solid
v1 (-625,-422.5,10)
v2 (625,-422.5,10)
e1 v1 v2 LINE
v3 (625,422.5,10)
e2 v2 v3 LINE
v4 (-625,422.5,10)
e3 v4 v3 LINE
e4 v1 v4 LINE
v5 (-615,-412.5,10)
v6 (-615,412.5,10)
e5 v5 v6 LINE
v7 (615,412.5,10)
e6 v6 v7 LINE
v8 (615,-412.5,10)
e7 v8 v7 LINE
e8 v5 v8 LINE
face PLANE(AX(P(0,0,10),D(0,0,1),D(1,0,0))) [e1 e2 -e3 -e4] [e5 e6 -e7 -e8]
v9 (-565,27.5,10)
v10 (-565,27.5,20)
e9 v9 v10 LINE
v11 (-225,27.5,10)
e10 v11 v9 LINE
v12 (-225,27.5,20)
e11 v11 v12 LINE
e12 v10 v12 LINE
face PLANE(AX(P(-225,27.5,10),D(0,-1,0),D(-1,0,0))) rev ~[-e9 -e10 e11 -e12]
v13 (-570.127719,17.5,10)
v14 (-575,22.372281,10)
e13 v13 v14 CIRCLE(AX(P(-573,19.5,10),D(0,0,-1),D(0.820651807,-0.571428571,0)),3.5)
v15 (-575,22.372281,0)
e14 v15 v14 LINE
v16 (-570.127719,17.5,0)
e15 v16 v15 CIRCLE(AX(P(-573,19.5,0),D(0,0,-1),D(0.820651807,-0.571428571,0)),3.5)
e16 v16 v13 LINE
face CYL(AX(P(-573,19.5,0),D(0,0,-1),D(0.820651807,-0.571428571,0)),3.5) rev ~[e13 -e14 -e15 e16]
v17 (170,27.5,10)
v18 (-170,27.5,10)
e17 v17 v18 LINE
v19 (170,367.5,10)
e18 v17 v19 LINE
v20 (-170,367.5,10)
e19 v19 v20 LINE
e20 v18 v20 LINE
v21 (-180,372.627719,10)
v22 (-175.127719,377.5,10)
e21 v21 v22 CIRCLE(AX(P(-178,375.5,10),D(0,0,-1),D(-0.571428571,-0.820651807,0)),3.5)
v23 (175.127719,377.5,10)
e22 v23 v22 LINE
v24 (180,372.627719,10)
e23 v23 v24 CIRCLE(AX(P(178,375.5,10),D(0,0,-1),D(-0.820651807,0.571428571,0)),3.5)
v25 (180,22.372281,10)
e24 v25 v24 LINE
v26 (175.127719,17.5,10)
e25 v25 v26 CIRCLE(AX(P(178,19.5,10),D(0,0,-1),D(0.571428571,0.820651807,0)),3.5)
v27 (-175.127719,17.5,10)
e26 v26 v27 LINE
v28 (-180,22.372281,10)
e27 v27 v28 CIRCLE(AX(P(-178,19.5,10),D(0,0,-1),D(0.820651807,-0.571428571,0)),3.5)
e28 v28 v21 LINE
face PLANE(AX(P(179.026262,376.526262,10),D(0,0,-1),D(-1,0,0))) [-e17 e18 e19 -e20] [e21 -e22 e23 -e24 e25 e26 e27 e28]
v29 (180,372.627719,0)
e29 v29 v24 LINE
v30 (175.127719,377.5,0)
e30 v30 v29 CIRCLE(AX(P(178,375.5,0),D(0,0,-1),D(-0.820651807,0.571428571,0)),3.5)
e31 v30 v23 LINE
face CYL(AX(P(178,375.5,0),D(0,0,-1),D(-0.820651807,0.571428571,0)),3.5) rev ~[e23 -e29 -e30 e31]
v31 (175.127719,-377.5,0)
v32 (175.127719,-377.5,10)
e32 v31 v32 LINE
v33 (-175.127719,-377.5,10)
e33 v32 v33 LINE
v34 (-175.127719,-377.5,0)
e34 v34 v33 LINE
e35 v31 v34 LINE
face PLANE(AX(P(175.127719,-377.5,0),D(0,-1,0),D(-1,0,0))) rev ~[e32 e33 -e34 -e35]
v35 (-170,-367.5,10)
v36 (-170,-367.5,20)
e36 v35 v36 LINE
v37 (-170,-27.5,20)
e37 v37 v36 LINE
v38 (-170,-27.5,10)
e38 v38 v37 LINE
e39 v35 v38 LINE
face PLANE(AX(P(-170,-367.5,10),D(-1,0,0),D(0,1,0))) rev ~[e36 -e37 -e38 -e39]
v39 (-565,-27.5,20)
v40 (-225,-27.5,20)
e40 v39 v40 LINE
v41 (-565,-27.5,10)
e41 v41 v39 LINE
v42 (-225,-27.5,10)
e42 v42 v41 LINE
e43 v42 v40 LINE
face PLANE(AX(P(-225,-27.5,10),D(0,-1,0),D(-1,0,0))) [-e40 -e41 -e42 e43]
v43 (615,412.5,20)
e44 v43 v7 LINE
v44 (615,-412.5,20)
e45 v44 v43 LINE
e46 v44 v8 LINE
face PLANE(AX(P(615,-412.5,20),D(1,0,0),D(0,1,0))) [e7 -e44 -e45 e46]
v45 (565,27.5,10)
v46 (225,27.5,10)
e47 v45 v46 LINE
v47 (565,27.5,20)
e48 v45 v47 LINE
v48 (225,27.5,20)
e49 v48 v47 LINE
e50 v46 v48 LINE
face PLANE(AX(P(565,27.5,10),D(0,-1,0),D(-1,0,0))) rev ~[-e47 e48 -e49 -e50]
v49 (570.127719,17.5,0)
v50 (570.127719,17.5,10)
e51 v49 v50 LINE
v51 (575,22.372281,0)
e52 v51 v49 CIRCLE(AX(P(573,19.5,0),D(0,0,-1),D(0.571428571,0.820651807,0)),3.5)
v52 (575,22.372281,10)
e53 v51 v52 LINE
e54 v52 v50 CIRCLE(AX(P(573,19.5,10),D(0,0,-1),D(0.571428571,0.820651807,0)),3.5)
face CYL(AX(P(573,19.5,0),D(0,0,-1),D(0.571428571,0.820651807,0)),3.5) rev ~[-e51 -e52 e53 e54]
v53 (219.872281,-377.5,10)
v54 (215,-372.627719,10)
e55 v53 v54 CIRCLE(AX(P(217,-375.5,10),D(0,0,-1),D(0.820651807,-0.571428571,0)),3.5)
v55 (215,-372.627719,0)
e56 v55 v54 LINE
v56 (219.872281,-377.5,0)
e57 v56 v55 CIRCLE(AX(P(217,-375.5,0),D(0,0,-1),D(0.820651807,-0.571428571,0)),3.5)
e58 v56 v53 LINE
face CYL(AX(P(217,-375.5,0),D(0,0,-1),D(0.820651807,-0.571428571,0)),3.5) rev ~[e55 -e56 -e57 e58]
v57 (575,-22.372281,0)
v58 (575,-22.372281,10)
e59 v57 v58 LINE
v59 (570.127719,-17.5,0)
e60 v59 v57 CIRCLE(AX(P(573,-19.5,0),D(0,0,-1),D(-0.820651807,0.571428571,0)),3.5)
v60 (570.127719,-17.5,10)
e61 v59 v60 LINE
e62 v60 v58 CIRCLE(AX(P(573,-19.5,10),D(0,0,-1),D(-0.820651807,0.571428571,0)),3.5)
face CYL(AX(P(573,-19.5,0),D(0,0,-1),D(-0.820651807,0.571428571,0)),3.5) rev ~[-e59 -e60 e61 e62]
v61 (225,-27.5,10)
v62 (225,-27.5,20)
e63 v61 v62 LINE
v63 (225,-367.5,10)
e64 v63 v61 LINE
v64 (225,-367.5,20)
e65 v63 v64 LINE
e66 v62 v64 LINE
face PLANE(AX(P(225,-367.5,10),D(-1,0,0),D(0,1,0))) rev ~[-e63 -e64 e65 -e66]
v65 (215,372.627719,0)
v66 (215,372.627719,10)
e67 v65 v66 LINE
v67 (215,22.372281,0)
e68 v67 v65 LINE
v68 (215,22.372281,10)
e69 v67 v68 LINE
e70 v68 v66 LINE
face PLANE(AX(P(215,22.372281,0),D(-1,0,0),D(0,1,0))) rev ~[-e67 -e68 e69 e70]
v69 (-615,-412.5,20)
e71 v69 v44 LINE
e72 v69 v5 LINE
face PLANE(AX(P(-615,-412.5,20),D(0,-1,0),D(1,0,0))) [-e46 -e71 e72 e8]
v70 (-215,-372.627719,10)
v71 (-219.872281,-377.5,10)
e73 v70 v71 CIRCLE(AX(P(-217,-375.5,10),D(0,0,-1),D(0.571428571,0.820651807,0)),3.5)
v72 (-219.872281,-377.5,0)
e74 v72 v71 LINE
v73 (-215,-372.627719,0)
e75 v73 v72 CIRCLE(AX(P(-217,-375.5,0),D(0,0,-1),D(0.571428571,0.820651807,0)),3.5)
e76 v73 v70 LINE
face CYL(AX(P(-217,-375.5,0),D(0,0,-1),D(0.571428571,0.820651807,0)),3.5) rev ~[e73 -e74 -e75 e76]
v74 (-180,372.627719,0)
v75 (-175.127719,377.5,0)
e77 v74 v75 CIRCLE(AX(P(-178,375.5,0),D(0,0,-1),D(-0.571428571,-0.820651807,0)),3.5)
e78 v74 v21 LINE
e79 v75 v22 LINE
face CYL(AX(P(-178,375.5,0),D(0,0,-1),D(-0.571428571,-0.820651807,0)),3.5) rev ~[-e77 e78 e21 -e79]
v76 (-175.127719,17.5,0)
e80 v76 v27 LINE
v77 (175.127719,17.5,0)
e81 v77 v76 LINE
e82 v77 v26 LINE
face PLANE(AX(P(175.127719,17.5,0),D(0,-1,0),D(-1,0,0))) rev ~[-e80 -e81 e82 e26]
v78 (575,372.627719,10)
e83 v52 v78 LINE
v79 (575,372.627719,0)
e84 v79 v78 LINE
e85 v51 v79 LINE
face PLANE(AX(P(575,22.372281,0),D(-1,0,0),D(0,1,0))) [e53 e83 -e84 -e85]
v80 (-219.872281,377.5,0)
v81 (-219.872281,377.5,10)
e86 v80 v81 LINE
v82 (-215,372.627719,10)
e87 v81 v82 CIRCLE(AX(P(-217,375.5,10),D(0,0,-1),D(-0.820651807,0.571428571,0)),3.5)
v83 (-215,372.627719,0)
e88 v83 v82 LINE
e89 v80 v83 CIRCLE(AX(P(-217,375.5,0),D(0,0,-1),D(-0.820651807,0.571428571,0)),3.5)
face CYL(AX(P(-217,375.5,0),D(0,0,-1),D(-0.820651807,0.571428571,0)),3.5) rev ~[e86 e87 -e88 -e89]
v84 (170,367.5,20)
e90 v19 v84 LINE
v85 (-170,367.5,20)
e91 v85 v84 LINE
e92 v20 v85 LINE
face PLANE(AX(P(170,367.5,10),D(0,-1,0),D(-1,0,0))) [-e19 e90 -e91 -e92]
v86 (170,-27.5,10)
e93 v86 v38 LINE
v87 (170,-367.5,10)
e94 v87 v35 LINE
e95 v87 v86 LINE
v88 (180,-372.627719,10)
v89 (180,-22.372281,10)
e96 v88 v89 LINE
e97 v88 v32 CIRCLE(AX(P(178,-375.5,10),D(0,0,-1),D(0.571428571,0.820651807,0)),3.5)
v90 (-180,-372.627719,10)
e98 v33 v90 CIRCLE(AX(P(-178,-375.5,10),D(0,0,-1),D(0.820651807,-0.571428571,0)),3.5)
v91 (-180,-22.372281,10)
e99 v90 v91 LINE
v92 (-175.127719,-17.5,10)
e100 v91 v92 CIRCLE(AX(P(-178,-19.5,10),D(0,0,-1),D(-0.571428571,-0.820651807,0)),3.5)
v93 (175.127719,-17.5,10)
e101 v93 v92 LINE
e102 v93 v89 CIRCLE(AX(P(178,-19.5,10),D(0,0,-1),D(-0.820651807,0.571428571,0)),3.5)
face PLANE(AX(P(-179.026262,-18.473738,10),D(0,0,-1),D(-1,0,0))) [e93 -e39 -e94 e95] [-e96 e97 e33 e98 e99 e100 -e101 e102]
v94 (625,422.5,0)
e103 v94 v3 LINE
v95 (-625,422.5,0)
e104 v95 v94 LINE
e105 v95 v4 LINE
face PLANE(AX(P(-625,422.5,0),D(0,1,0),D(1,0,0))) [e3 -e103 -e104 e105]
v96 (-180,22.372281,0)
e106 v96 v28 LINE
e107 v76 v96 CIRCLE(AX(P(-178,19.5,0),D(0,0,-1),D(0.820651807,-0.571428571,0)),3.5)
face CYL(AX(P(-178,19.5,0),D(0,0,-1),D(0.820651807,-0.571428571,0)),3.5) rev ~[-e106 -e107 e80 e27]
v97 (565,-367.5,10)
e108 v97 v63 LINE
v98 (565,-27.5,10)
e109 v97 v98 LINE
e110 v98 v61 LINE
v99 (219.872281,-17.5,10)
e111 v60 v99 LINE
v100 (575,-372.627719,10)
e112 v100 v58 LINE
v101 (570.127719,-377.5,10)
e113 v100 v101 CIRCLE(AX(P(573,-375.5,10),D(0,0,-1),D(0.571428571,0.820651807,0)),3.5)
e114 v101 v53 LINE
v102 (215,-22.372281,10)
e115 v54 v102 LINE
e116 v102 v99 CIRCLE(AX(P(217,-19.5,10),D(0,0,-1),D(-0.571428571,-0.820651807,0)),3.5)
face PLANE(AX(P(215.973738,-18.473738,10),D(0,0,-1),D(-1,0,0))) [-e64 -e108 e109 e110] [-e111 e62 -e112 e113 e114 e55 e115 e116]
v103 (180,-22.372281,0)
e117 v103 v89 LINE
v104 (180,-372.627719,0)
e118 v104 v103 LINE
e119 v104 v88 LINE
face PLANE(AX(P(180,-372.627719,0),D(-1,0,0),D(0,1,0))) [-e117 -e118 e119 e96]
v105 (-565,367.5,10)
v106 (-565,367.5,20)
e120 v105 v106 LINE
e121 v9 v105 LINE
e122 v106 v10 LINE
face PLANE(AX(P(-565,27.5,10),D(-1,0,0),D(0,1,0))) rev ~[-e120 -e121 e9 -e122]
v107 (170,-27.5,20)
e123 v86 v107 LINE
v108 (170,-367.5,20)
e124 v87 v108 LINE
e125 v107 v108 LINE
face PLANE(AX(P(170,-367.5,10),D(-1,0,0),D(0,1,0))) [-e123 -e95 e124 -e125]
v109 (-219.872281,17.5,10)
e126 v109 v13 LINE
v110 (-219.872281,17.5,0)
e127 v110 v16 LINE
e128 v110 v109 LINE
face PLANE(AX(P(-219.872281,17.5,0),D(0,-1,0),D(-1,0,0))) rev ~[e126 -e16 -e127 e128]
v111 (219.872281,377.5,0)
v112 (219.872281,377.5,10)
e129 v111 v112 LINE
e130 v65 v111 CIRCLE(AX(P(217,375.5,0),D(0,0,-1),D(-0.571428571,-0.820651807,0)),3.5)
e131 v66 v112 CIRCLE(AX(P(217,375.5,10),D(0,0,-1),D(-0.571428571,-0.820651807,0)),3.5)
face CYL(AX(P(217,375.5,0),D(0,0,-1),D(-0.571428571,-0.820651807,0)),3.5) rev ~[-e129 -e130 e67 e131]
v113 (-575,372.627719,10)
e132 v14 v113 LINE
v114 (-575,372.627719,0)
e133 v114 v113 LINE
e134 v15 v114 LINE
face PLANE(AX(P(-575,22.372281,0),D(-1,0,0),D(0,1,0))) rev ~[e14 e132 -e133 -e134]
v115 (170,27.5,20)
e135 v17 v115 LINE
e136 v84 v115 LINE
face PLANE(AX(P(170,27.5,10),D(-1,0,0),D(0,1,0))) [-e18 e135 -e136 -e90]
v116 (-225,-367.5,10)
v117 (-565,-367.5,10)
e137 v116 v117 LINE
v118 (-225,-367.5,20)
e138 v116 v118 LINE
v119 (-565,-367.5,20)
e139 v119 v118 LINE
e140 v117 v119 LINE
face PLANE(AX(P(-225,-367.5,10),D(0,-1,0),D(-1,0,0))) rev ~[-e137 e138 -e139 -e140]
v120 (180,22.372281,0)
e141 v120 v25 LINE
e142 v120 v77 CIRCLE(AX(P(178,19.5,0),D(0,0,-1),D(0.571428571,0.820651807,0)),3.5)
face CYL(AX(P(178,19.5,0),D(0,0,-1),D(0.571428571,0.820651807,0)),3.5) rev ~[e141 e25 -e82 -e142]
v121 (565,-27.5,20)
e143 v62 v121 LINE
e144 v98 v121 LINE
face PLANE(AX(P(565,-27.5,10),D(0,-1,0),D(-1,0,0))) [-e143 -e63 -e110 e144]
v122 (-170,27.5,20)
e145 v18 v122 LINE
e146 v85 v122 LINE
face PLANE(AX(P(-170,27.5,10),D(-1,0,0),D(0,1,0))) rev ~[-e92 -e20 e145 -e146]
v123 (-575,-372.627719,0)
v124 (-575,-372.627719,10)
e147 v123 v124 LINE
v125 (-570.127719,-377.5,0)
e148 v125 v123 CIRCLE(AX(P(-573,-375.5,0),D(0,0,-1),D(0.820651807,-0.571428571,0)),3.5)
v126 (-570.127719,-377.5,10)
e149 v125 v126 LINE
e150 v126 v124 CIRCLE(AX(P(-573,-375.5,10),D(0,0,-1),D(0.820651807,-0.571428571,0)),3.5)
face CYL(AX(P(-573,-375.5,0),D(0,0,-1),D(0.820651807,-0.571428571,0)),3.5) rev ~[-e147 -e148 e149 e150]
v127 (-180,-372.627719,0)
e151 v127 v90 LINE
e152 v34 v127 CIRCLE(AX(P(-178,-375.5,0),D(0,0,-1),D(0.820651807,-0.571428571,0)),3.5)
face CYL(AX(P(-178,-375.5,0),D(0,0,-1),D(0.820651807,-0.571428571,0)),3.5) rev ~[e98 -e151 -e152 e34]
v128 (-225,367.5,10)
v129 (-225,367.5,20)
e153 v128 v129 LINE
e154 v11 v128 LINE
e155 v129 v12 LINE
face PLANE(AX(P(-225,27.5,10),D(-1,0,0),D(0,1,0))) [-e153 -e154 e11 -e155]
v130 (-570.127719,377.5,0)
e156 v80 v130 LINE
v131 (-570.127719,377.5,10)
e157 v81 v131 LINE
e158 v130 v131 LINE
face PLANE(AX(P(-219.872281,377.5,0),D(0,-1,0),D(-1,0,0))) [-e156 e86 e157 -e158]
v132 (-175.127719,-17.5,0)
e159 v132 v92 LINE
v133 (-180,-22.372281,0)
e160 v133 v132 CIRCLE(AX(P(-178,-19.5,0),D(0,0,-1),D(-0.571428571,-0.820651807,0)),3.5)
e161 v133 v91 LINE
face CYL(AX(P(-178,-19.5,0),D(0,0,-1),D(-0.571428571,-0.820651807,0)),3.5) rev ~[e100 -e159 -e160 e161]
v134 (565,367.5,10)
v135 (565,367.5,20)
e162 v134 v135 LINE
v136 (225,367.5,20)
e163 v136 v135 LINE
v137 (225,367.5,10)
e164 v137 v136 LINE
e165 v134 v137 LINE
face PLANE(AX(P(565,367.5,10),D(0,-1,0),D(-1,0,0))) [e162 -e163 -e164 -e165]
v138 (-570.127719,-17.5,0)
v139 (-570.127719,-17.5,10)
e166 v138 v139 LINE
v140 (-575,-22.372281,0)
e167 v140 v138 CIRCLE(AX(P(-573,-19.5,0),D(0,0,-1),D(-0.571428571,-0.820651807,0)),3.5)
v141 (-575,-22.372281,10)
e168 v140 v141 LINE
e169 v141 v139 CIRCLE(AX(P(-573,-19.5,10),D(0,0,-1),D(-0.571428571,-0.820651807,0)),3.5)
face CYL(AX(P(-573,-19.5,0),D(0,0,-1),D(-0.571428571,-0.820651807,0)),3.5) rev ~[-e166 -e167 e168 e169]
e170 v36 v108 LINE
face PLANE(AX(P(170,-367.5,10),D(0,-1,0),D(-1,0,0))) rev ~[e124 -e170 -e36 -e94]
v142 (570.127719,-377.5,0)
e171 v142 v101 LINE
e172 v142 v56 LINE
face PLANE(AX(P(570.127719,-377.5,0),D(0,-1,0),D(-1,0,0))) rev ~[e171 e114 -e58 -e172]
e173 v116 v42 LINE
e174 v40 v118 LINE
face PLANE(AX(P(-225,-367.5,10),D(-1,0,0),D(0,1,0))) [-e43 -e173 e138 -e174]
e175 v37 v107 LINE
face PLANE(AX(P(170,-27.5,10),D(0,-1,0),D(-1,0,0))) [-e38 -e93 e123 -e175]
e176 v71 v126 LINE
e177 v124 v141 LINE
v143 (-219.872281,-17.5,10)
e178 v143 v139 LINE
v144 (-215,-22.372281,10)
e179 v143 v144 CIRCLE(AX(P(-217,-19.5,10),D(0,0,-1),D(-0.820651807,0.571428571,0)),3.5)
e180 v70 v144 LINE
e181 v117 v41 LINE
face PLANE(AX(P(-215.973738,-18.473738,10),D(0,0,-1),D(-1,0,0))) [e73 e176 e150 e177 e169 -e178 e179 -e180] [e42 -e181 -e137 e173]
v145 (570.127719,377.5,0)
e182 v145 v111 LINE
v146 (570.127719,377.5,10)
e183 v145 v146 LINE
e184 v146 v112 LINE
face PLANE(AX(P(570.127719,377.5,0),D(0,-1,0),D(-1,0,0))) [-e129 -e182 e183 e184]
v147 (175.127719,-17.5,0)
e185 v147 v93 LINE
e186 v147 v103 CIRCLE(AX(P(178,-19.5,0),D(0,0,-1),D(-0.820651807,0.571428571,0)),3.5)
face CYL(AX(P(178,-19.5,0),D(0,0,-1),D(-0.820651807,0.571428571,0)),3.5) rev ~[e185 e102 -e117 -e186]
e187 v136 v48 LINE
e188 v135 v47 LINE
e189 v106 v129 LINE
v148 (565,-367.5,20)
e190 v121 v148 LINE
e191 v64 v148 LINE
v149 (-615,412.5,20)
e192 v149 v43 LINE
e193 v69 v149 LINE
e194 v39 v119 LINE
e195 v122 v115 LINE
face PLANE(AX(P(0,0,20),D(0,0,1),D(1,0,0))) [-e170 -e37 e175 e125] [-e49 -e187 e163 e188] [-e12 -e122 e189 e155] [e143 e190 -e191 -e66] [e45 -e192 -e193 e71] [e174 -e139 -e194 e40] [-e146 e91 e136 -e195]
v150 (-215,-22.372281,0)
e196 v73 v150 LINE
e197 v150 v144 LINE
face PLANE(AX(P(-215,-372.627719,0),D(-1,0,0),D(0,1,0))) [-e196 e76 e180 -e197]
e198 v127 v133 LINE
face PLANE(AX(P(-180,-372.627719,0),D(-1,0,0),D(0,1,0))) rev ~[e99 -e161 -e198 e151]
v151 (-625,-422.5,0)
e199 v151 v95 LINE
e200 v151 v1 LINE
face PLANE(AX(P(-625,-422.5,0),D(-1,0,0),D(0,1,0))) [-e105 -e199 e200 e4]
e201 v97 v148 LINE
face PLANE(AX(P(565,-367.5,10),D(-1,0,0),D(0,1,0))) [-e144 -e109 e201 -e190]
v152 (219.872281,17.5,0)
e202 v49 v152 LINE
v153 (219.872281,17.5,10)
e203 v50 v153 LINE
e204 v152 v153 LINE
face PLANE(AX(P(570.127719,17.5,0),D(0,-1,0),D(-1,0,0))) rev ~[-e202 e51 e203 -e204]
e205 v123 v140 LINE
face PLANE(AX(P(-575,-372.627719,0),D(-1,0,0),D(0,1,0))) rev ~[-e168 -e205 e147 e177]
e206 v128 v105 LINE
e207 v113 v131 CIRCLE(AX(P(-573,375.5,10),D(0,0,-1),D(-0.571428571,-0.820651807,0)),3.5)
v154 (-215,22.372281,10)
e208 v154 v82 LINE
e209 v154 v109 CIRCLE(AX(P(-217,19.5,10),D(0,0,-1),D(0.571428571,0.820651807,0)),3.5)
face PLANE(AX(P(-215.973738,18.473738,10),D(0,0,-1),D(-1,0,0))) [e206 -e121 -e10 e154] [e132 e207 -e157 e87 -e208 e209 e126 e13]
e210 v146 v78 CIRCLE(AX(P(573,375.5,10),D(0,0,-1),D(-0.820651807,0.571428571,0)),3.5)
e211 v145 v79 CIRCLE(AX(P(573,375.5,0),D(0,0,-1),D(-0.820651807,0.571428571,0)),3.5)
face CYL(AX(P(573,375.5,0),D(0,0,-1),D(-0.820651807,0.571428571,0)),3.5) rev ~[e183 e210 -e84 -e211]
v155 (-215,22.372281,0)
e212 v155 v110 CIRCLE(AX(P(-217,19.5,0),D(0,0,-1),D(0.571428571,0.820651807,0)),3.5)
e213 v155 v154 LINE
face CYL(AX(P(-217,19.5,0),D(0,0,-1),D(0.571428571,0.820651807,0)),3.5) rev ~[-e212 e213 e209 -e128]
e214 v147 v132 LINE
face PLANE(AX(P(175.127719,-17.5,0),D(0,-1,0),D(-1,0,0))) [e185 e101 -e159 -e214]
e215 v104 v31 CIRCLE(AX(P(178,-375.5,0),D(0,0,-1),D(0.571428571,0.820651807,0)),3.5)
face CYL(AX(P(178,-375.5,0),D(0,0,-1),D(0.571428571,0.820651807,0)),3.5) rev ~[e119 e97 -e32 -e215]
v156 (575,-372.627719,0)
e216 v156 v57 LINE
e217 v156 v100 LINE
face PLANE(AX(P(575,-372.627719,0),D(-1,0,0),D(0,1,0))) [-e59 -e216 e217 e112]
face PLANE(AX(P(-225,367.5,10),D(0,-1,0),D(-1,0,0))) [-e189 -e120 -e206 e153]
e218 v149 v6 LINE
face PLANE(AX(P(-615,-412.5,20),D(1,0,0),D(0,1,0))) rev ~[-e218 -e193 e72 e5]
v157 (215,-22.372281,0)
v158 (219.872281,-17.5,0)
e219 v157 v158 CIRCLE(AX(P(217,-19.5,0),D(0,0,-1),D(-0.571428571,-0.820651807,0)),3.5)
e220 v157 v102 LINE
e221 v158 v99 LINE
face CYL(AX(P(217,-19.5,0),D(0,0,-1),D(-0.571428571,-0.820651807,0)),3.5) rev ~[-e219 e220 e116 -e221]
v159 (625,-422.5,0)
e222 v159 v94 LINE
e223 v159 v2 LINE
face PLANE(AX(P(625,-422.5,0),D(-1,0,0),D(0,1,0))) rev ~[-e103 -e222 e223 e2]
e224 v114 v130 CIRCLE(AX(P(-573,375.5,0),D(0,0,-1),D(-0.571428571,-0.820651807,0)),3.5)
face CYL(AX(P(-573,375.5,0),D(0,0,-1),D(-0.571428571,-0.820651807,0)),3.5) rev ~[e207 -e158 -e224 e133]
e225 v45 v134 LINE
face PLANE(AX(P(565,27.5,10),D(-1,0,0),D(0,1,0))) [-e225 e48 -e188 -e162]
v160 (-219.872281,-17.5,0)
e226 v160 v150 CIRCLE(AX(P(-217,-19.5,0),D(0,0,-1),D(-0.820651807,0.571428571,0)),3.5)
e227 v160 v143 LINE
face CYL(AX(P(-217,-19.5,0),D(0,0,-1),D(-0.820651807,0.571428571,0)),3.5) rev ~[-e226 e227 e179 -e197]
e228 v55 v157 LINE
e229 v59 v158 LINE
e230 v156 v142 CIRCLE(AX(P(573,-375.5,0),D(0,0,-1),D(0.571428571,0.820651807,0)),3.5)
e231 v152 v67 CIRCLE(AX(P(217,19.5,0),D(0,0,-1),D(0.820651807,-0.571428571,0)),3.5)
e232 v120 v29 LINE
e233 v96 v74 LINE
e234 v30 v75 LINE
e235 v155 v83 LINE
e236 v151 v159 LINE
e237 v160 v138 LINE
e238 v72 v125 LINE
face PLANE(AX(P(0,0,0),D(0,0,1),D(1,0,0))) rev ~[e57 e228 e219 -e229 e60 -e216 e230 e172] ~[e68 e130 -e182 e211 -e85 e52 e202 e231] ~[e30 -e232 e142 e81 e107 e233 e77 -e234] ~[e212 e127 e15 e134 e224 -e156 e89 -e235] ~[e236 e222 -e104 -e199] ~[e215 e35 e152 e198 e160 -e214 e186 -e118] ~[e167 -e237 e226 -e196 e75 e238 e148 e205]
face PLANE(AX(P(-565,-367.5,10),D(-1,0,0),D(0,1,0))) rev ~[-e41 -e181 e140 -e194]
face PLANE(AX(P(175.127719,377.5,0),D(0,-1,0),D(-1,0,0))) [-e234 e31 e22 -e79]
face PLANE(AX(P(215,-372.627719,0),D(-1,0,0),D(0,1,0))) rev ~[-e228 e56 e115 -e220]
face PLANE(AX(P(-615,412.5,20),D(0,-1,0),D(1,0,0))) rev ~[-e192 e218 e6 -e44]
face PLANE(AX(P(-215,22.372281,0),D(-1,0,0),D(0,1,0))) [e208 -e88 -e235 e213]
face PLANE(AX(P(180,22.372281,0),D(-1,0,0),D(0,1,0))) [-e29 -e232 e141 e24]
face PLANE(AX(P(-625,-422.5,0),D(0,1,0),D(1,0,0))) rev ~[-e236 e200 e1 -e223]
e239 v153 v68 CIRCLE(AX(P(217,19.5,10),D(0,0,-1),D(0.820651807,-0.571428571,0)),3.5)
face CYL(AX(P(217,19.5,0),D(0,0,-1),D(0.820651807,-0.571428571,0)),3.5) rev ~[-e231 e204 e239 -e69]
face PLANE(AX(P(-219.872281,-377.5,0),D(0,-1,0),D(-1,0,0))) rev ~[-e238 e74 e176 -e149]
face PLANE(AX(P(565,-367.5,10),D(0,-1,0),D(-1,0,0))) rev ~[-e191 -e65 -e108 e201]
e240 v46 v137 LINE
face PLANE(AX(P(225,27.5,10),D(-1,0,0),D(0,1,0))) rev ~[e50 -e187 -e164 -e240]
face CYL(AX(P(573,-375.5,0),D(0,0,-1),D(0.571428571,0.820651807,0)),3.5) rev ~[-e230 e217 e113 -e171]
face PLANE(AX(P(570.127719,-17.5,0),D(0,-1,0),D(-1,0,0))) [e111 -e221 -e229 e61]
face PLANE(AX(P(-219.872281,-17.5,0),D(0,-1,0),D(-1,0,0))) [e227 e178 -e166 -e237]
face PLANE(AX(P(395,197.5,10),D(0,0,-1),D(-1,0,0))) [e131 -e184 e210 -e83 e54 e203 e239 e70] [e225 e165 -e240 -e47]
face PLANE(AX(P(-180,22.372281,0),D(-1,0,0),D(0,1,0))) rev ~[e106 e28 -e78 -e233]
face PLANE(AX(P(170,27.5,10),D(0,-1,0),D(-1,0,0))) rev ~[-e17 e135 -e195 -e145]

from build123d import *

# Parameters (mm, degrees)
SKETCH1_W           = 1250
SKETCH1_H           = 845
BOSS_EXTRUDE1_DEPTH = 20
SKETCH2_W           = 360
SKETCH2_H           = 360
CUT_EXTRUDE1_DEPTH  = 10
SKETCH3_W           = 340
SKETCH3_H           = 340
CUT_EXTRUDE2_DEPTH  = 11
SKETCH4_W           = 1250
SKETCH4_H           = 845
SKETCH4_W_2         = 1230
SKETCH4_H_2         = 825
CUT_EXTRUDE3_DEPTH  = 10


with BuildPart() as part:
    # Sketch1 → Boss-Extrude1 (new body)
    with BuildSketch(Plane.XY):
        Rectangle(SKETCH1_W, SKETCH1_H)
    extrude(amount=BOSS_EXTRUDE1_DEPTH)

    # Sketch2 → Cut-Extrude1 (cut)
    with BuildSketch(Plane(origin=(0, 0, 0), x_dir=(-1, 0, 0), z_dir=(0, 0, -1))):
        with Locations((-395, 197.5)):
            Rectangle(SKETCH2_W, SKETCH2_H)
        with BuildLine():
            Line((-575, 372.627718677), (-575, 377.5))
            Line((-575, 377.5), (-570.127718677, 377.5))
            ThreePointArc((-570.127718677, 377.5), (-575.474873734, 377.974873734), (-575, 372.627718677))
        make_face()
        with BuildLine():
            ThreePointArc((-215, 372.627718677), (-214.525126266, 377.974873734), (-219.872281323, 377.5))
            Line((-219.872281323, 377.5), (-215, 377.5))
            Line((-215, 377.5), (-215, 372.627718677))
        make_face()
        with BuildLine():
            Line((-180, 372.627718677), (-180, 377.5))
            Line((-180, 377.5), (-175.127718677, 377.5))
            ThreePointArc((-175.127718677, 377.5), (-180.474873734, 377.974873734), (-180, 372.627718677))
        make_face()
        with BuildLine():
            Line((-575, 17.5), (-575, 22.372281323))
            ThreePointArc((-575, 22.372281323), (-575.474873734, 17.025126266), (-570.127718677, 17.5))
            Line((-570.127718677, 17.5), (-575, 17.5))
        make_face()
        with BuildLine():
            ThreePointArc((-219.872281323, 17.5), (-214.525126266, 17.025126266), (-215, 22.372281323))
            Line((-215, 22.372281323), (-215, 17.5))
            Line((-215, 17.5), (-219.872281323, 17.5))
        make_face()
        with BuildLine():
            Line((-180, 17.5), (-180, 22.372281323))
            ThreePointArc((-180, 22.372281323), (-180.474873734, 17.025126266), (-175.127718677, 17.5))
            Line((-175.127718677, 17.5), (-180, 17.5))
        make_face()
        with Locations((0, 197.5)):
            Rectangle(SKETCH2_W, SKETCH2_H)
        with BuildLine():
            Line((180, 17.5), (175.127718677, 17.5))
            ThreePointArc((175.127718677, 17.5), (180.474873734, 17.025126266), (180, 22.372281323))
            Line((180, 22.372281323), (180, 17.5))
        make_face()
        with BuildLine():
            Line((175.127718677, -17.5), (180, -17.5))
            Line((180, -17.5), (180, -22.372281323))
            ThreePointArc((180, -22.372281323), (180.474873734, -17.025126266), (175.127718677, -17.5))
        make_face()
        with BuildLine():
            Line((215, -17.5), (219.872281323, -17.5))
            ThreePointArc((219.872281323, -17.5), (214.525126266, -17.025126266), (215, -22.372281323))
            Line((215, -22.372281323), (215, -17.5))
        make_face()
        with BuildLine():
            Line((215, 17.5), (215, 22.372281323))
            ThreePointArc((215, 22.372281323), (214.525126266, 17.025126266), (219.872281323, 17.5))
            Line((219.872281323, 17.5), (215, 17.5))
        make_face()
        with Locations((395, 197.5)):
            Rectangle(SKETCH2_W, SKETCH2_H)
        with BuildLine():
            ThreePointArc((180, 372.627718677), (180.474873734, 377.974873734), (175.127718677, 377.5))
            Line((175.127718677, 377.5), (180, 377.5))
            Line((180, 377.5), (180, 372.627718677))
        make_face()
        with BuildLine():
            Line((215, 372.627718677), (215, 377.5))
            Line((215, 377.5), (219.872281323, 377.5))
            ThreePointArc((219.872281323, 377.5), (214.525126266, 377.974873734), (215, 372.627718677))
        make_face()
        with BuildLine():
            ThreePointArc((575, 372.627718677), (575.474873734, 377.974873734), (570.127718677, 377.5))
            Line((570.127718677, 377.5), (575, 377.5))
            Line((575, 377.5), (575, 372.627718677))
        make_face()
        with BuildLine():
            Line((575, 17.5), (570.127718677, 17.5))
            ThreePointArc((570.127718677, 17.5), (575.474873734, 17.025126266), (575, 22.372281323))
            Line((575, 22.372281323), (575, 17.5))
        make_face()
        with BuildLine():
            Line((570.127718677, -17.5), (575, -17.5))
            Line((575, -17.5), (575, -22.372281323))
            ThreePointArc((575, -22.372281323), (575.474873734, -17.025126266), (570.127718677, -17.5))
        make_face()
        with Locations((395, -197.5)):
            Rectangle(SKETCH2_W, SKETCH2_H)
        with BuildLine():
            ThreePointArc((570.127718677, -377.5), (575.474873734, -377.974873734), (575, -372.627718677))
            Line((575, -372.627718677), (575, -377.5))
            Line((575, -377.5), (570.127718677, -377.5))
        make_face()
        with BuildLine():
            Line((215, -377.5), (215, -372.627718677))
            ThreePointArc((215, -372.627718677), (214.525126266, -377.974873734), (219.872281323, -377.5))
            Line((219.872281323, -377.5), (215, -377.5))
        make_face()
        with BuildLine():
            ThreePointArc((175.127718677, -377.5), (180.474873734, -377.974873734), (180, -372.627718677))
            Line((180, -372.627718677), (180, -377.5))
            Line((180, -377.5), (175.127718677, -377.5))
        make_face()
        with Locations((0, -197.5)):
            Rectangle(SKETCH2_W, SKETCH2_H)
        with BuildLine():
            Line((-180, -17.5), (-175.127718677, -17.5))
            ThreePointArc((-175.127718677, -17.5), (-180.474873734, -17.025126266), (-180, -22.372281323))
            Line((-180, -22.372281323), (-180, -17.5))
        make_face()
        with BuildLine():
            Line((-215, -17.5), (-215, -22.372281323))
            ThreePointArc((-215, -22.372281323), (-214.525126266, -17.025126266), (-219.872281323, -17.5))
            Line((-219.872281323, -17.5), (-215, -17.5))
        make_face()
        with Locations((-395, -197.5)):
            Rectangle(SKETCH2_W, SKETCH2_H)
        with BuildLine():
            ThreePointArc((-570.127718677, -17.5), (-575.474873734, -17.025126266), (-575, -22.372281323))
            Line((-575, -22.372281323), (-575, -17.5))
            Line((-575, -17.5), (-570.127718677, -17.5))
        make_face()
        with BuildLine():
            ThreePointArc((-575, -372.627718677), (-575.474873734, -377.974873734), (-570.127718677, -377.5))
            Line((-570.127718677, -377.5), (-575, -377.5))
            Line((-575, -377.5), (-575, -372.627718677))
        make_face()
        with BuildLine():
            Line((-215, -372.627718677), (-215, -377.5))
            Line((-215, -377.5), (-219.872281323, -377.5))
            ThreePointArc((-219.872281323, -377.5), (-214.525126266, -377.974873734), (-215, -372.627718677))
        make_face()
        with BuildLine():
            ThreePointArc((-180, -372.627718677), (-180.474873734, -377.974873734), (-175.127718677, -377.5))
            Line((-175.127718677, -377.5), (-180, -377.5))
            Line((-180, -377.5), (-180, -372.627718677))
        make_face()
    extrude(amount=-CUT_EXTRUDE1_DEPTH, mode=Mode.SUBTRACT)

    # Sketch3 → Cut-Extrude2 (cut, through all)
    with BuildSketch(Plane(origin=(0, 0, 10), x_dir=(-1, 0, 0), z_dir=(0, 0, -1))):
        with Locations((0, 197.5)):
            Rectangle(SKETCH3_W, SKETCH3_H)
        with Locations((395, 197.5)):
            Rectangle(SKETCH3_W, SKETCH3_H)
        with Locations((-395, 197.5)):
            Rectangle(SKETCH3_W, SKETCH3_H)
        with Locations((-395, -197.5)):
            Rectangle(SKETCH3_W, SKETCH3_H)
        with Locations((0, -197.5)):
            Rectangle(SKETCH3_W, SKETCH3_H)
        with Locations((395, -197.5)):
            Rectangle(SKETCH3_W, SKETCH3_H)
    extrude(amount=-CUT_EXTRUDE2_DEPTH, mode=Mode.SUBTRACT)

    # Sketch4 → Cut-Extrude3 (cut)
    with BuildSketch(Plane.XY.offset(20)):
        Rectangle(SKETCH4_W, SKETCH4_H)
        Rectangle(SKETCH4_W_2, SKETCH4_H_2, mode=Mode.SUBTRACT)
    extrude(amount=-CUT_EXTRUDE3_DEPTH, mode=Mode.SUBTRACT)


solid = part.part
